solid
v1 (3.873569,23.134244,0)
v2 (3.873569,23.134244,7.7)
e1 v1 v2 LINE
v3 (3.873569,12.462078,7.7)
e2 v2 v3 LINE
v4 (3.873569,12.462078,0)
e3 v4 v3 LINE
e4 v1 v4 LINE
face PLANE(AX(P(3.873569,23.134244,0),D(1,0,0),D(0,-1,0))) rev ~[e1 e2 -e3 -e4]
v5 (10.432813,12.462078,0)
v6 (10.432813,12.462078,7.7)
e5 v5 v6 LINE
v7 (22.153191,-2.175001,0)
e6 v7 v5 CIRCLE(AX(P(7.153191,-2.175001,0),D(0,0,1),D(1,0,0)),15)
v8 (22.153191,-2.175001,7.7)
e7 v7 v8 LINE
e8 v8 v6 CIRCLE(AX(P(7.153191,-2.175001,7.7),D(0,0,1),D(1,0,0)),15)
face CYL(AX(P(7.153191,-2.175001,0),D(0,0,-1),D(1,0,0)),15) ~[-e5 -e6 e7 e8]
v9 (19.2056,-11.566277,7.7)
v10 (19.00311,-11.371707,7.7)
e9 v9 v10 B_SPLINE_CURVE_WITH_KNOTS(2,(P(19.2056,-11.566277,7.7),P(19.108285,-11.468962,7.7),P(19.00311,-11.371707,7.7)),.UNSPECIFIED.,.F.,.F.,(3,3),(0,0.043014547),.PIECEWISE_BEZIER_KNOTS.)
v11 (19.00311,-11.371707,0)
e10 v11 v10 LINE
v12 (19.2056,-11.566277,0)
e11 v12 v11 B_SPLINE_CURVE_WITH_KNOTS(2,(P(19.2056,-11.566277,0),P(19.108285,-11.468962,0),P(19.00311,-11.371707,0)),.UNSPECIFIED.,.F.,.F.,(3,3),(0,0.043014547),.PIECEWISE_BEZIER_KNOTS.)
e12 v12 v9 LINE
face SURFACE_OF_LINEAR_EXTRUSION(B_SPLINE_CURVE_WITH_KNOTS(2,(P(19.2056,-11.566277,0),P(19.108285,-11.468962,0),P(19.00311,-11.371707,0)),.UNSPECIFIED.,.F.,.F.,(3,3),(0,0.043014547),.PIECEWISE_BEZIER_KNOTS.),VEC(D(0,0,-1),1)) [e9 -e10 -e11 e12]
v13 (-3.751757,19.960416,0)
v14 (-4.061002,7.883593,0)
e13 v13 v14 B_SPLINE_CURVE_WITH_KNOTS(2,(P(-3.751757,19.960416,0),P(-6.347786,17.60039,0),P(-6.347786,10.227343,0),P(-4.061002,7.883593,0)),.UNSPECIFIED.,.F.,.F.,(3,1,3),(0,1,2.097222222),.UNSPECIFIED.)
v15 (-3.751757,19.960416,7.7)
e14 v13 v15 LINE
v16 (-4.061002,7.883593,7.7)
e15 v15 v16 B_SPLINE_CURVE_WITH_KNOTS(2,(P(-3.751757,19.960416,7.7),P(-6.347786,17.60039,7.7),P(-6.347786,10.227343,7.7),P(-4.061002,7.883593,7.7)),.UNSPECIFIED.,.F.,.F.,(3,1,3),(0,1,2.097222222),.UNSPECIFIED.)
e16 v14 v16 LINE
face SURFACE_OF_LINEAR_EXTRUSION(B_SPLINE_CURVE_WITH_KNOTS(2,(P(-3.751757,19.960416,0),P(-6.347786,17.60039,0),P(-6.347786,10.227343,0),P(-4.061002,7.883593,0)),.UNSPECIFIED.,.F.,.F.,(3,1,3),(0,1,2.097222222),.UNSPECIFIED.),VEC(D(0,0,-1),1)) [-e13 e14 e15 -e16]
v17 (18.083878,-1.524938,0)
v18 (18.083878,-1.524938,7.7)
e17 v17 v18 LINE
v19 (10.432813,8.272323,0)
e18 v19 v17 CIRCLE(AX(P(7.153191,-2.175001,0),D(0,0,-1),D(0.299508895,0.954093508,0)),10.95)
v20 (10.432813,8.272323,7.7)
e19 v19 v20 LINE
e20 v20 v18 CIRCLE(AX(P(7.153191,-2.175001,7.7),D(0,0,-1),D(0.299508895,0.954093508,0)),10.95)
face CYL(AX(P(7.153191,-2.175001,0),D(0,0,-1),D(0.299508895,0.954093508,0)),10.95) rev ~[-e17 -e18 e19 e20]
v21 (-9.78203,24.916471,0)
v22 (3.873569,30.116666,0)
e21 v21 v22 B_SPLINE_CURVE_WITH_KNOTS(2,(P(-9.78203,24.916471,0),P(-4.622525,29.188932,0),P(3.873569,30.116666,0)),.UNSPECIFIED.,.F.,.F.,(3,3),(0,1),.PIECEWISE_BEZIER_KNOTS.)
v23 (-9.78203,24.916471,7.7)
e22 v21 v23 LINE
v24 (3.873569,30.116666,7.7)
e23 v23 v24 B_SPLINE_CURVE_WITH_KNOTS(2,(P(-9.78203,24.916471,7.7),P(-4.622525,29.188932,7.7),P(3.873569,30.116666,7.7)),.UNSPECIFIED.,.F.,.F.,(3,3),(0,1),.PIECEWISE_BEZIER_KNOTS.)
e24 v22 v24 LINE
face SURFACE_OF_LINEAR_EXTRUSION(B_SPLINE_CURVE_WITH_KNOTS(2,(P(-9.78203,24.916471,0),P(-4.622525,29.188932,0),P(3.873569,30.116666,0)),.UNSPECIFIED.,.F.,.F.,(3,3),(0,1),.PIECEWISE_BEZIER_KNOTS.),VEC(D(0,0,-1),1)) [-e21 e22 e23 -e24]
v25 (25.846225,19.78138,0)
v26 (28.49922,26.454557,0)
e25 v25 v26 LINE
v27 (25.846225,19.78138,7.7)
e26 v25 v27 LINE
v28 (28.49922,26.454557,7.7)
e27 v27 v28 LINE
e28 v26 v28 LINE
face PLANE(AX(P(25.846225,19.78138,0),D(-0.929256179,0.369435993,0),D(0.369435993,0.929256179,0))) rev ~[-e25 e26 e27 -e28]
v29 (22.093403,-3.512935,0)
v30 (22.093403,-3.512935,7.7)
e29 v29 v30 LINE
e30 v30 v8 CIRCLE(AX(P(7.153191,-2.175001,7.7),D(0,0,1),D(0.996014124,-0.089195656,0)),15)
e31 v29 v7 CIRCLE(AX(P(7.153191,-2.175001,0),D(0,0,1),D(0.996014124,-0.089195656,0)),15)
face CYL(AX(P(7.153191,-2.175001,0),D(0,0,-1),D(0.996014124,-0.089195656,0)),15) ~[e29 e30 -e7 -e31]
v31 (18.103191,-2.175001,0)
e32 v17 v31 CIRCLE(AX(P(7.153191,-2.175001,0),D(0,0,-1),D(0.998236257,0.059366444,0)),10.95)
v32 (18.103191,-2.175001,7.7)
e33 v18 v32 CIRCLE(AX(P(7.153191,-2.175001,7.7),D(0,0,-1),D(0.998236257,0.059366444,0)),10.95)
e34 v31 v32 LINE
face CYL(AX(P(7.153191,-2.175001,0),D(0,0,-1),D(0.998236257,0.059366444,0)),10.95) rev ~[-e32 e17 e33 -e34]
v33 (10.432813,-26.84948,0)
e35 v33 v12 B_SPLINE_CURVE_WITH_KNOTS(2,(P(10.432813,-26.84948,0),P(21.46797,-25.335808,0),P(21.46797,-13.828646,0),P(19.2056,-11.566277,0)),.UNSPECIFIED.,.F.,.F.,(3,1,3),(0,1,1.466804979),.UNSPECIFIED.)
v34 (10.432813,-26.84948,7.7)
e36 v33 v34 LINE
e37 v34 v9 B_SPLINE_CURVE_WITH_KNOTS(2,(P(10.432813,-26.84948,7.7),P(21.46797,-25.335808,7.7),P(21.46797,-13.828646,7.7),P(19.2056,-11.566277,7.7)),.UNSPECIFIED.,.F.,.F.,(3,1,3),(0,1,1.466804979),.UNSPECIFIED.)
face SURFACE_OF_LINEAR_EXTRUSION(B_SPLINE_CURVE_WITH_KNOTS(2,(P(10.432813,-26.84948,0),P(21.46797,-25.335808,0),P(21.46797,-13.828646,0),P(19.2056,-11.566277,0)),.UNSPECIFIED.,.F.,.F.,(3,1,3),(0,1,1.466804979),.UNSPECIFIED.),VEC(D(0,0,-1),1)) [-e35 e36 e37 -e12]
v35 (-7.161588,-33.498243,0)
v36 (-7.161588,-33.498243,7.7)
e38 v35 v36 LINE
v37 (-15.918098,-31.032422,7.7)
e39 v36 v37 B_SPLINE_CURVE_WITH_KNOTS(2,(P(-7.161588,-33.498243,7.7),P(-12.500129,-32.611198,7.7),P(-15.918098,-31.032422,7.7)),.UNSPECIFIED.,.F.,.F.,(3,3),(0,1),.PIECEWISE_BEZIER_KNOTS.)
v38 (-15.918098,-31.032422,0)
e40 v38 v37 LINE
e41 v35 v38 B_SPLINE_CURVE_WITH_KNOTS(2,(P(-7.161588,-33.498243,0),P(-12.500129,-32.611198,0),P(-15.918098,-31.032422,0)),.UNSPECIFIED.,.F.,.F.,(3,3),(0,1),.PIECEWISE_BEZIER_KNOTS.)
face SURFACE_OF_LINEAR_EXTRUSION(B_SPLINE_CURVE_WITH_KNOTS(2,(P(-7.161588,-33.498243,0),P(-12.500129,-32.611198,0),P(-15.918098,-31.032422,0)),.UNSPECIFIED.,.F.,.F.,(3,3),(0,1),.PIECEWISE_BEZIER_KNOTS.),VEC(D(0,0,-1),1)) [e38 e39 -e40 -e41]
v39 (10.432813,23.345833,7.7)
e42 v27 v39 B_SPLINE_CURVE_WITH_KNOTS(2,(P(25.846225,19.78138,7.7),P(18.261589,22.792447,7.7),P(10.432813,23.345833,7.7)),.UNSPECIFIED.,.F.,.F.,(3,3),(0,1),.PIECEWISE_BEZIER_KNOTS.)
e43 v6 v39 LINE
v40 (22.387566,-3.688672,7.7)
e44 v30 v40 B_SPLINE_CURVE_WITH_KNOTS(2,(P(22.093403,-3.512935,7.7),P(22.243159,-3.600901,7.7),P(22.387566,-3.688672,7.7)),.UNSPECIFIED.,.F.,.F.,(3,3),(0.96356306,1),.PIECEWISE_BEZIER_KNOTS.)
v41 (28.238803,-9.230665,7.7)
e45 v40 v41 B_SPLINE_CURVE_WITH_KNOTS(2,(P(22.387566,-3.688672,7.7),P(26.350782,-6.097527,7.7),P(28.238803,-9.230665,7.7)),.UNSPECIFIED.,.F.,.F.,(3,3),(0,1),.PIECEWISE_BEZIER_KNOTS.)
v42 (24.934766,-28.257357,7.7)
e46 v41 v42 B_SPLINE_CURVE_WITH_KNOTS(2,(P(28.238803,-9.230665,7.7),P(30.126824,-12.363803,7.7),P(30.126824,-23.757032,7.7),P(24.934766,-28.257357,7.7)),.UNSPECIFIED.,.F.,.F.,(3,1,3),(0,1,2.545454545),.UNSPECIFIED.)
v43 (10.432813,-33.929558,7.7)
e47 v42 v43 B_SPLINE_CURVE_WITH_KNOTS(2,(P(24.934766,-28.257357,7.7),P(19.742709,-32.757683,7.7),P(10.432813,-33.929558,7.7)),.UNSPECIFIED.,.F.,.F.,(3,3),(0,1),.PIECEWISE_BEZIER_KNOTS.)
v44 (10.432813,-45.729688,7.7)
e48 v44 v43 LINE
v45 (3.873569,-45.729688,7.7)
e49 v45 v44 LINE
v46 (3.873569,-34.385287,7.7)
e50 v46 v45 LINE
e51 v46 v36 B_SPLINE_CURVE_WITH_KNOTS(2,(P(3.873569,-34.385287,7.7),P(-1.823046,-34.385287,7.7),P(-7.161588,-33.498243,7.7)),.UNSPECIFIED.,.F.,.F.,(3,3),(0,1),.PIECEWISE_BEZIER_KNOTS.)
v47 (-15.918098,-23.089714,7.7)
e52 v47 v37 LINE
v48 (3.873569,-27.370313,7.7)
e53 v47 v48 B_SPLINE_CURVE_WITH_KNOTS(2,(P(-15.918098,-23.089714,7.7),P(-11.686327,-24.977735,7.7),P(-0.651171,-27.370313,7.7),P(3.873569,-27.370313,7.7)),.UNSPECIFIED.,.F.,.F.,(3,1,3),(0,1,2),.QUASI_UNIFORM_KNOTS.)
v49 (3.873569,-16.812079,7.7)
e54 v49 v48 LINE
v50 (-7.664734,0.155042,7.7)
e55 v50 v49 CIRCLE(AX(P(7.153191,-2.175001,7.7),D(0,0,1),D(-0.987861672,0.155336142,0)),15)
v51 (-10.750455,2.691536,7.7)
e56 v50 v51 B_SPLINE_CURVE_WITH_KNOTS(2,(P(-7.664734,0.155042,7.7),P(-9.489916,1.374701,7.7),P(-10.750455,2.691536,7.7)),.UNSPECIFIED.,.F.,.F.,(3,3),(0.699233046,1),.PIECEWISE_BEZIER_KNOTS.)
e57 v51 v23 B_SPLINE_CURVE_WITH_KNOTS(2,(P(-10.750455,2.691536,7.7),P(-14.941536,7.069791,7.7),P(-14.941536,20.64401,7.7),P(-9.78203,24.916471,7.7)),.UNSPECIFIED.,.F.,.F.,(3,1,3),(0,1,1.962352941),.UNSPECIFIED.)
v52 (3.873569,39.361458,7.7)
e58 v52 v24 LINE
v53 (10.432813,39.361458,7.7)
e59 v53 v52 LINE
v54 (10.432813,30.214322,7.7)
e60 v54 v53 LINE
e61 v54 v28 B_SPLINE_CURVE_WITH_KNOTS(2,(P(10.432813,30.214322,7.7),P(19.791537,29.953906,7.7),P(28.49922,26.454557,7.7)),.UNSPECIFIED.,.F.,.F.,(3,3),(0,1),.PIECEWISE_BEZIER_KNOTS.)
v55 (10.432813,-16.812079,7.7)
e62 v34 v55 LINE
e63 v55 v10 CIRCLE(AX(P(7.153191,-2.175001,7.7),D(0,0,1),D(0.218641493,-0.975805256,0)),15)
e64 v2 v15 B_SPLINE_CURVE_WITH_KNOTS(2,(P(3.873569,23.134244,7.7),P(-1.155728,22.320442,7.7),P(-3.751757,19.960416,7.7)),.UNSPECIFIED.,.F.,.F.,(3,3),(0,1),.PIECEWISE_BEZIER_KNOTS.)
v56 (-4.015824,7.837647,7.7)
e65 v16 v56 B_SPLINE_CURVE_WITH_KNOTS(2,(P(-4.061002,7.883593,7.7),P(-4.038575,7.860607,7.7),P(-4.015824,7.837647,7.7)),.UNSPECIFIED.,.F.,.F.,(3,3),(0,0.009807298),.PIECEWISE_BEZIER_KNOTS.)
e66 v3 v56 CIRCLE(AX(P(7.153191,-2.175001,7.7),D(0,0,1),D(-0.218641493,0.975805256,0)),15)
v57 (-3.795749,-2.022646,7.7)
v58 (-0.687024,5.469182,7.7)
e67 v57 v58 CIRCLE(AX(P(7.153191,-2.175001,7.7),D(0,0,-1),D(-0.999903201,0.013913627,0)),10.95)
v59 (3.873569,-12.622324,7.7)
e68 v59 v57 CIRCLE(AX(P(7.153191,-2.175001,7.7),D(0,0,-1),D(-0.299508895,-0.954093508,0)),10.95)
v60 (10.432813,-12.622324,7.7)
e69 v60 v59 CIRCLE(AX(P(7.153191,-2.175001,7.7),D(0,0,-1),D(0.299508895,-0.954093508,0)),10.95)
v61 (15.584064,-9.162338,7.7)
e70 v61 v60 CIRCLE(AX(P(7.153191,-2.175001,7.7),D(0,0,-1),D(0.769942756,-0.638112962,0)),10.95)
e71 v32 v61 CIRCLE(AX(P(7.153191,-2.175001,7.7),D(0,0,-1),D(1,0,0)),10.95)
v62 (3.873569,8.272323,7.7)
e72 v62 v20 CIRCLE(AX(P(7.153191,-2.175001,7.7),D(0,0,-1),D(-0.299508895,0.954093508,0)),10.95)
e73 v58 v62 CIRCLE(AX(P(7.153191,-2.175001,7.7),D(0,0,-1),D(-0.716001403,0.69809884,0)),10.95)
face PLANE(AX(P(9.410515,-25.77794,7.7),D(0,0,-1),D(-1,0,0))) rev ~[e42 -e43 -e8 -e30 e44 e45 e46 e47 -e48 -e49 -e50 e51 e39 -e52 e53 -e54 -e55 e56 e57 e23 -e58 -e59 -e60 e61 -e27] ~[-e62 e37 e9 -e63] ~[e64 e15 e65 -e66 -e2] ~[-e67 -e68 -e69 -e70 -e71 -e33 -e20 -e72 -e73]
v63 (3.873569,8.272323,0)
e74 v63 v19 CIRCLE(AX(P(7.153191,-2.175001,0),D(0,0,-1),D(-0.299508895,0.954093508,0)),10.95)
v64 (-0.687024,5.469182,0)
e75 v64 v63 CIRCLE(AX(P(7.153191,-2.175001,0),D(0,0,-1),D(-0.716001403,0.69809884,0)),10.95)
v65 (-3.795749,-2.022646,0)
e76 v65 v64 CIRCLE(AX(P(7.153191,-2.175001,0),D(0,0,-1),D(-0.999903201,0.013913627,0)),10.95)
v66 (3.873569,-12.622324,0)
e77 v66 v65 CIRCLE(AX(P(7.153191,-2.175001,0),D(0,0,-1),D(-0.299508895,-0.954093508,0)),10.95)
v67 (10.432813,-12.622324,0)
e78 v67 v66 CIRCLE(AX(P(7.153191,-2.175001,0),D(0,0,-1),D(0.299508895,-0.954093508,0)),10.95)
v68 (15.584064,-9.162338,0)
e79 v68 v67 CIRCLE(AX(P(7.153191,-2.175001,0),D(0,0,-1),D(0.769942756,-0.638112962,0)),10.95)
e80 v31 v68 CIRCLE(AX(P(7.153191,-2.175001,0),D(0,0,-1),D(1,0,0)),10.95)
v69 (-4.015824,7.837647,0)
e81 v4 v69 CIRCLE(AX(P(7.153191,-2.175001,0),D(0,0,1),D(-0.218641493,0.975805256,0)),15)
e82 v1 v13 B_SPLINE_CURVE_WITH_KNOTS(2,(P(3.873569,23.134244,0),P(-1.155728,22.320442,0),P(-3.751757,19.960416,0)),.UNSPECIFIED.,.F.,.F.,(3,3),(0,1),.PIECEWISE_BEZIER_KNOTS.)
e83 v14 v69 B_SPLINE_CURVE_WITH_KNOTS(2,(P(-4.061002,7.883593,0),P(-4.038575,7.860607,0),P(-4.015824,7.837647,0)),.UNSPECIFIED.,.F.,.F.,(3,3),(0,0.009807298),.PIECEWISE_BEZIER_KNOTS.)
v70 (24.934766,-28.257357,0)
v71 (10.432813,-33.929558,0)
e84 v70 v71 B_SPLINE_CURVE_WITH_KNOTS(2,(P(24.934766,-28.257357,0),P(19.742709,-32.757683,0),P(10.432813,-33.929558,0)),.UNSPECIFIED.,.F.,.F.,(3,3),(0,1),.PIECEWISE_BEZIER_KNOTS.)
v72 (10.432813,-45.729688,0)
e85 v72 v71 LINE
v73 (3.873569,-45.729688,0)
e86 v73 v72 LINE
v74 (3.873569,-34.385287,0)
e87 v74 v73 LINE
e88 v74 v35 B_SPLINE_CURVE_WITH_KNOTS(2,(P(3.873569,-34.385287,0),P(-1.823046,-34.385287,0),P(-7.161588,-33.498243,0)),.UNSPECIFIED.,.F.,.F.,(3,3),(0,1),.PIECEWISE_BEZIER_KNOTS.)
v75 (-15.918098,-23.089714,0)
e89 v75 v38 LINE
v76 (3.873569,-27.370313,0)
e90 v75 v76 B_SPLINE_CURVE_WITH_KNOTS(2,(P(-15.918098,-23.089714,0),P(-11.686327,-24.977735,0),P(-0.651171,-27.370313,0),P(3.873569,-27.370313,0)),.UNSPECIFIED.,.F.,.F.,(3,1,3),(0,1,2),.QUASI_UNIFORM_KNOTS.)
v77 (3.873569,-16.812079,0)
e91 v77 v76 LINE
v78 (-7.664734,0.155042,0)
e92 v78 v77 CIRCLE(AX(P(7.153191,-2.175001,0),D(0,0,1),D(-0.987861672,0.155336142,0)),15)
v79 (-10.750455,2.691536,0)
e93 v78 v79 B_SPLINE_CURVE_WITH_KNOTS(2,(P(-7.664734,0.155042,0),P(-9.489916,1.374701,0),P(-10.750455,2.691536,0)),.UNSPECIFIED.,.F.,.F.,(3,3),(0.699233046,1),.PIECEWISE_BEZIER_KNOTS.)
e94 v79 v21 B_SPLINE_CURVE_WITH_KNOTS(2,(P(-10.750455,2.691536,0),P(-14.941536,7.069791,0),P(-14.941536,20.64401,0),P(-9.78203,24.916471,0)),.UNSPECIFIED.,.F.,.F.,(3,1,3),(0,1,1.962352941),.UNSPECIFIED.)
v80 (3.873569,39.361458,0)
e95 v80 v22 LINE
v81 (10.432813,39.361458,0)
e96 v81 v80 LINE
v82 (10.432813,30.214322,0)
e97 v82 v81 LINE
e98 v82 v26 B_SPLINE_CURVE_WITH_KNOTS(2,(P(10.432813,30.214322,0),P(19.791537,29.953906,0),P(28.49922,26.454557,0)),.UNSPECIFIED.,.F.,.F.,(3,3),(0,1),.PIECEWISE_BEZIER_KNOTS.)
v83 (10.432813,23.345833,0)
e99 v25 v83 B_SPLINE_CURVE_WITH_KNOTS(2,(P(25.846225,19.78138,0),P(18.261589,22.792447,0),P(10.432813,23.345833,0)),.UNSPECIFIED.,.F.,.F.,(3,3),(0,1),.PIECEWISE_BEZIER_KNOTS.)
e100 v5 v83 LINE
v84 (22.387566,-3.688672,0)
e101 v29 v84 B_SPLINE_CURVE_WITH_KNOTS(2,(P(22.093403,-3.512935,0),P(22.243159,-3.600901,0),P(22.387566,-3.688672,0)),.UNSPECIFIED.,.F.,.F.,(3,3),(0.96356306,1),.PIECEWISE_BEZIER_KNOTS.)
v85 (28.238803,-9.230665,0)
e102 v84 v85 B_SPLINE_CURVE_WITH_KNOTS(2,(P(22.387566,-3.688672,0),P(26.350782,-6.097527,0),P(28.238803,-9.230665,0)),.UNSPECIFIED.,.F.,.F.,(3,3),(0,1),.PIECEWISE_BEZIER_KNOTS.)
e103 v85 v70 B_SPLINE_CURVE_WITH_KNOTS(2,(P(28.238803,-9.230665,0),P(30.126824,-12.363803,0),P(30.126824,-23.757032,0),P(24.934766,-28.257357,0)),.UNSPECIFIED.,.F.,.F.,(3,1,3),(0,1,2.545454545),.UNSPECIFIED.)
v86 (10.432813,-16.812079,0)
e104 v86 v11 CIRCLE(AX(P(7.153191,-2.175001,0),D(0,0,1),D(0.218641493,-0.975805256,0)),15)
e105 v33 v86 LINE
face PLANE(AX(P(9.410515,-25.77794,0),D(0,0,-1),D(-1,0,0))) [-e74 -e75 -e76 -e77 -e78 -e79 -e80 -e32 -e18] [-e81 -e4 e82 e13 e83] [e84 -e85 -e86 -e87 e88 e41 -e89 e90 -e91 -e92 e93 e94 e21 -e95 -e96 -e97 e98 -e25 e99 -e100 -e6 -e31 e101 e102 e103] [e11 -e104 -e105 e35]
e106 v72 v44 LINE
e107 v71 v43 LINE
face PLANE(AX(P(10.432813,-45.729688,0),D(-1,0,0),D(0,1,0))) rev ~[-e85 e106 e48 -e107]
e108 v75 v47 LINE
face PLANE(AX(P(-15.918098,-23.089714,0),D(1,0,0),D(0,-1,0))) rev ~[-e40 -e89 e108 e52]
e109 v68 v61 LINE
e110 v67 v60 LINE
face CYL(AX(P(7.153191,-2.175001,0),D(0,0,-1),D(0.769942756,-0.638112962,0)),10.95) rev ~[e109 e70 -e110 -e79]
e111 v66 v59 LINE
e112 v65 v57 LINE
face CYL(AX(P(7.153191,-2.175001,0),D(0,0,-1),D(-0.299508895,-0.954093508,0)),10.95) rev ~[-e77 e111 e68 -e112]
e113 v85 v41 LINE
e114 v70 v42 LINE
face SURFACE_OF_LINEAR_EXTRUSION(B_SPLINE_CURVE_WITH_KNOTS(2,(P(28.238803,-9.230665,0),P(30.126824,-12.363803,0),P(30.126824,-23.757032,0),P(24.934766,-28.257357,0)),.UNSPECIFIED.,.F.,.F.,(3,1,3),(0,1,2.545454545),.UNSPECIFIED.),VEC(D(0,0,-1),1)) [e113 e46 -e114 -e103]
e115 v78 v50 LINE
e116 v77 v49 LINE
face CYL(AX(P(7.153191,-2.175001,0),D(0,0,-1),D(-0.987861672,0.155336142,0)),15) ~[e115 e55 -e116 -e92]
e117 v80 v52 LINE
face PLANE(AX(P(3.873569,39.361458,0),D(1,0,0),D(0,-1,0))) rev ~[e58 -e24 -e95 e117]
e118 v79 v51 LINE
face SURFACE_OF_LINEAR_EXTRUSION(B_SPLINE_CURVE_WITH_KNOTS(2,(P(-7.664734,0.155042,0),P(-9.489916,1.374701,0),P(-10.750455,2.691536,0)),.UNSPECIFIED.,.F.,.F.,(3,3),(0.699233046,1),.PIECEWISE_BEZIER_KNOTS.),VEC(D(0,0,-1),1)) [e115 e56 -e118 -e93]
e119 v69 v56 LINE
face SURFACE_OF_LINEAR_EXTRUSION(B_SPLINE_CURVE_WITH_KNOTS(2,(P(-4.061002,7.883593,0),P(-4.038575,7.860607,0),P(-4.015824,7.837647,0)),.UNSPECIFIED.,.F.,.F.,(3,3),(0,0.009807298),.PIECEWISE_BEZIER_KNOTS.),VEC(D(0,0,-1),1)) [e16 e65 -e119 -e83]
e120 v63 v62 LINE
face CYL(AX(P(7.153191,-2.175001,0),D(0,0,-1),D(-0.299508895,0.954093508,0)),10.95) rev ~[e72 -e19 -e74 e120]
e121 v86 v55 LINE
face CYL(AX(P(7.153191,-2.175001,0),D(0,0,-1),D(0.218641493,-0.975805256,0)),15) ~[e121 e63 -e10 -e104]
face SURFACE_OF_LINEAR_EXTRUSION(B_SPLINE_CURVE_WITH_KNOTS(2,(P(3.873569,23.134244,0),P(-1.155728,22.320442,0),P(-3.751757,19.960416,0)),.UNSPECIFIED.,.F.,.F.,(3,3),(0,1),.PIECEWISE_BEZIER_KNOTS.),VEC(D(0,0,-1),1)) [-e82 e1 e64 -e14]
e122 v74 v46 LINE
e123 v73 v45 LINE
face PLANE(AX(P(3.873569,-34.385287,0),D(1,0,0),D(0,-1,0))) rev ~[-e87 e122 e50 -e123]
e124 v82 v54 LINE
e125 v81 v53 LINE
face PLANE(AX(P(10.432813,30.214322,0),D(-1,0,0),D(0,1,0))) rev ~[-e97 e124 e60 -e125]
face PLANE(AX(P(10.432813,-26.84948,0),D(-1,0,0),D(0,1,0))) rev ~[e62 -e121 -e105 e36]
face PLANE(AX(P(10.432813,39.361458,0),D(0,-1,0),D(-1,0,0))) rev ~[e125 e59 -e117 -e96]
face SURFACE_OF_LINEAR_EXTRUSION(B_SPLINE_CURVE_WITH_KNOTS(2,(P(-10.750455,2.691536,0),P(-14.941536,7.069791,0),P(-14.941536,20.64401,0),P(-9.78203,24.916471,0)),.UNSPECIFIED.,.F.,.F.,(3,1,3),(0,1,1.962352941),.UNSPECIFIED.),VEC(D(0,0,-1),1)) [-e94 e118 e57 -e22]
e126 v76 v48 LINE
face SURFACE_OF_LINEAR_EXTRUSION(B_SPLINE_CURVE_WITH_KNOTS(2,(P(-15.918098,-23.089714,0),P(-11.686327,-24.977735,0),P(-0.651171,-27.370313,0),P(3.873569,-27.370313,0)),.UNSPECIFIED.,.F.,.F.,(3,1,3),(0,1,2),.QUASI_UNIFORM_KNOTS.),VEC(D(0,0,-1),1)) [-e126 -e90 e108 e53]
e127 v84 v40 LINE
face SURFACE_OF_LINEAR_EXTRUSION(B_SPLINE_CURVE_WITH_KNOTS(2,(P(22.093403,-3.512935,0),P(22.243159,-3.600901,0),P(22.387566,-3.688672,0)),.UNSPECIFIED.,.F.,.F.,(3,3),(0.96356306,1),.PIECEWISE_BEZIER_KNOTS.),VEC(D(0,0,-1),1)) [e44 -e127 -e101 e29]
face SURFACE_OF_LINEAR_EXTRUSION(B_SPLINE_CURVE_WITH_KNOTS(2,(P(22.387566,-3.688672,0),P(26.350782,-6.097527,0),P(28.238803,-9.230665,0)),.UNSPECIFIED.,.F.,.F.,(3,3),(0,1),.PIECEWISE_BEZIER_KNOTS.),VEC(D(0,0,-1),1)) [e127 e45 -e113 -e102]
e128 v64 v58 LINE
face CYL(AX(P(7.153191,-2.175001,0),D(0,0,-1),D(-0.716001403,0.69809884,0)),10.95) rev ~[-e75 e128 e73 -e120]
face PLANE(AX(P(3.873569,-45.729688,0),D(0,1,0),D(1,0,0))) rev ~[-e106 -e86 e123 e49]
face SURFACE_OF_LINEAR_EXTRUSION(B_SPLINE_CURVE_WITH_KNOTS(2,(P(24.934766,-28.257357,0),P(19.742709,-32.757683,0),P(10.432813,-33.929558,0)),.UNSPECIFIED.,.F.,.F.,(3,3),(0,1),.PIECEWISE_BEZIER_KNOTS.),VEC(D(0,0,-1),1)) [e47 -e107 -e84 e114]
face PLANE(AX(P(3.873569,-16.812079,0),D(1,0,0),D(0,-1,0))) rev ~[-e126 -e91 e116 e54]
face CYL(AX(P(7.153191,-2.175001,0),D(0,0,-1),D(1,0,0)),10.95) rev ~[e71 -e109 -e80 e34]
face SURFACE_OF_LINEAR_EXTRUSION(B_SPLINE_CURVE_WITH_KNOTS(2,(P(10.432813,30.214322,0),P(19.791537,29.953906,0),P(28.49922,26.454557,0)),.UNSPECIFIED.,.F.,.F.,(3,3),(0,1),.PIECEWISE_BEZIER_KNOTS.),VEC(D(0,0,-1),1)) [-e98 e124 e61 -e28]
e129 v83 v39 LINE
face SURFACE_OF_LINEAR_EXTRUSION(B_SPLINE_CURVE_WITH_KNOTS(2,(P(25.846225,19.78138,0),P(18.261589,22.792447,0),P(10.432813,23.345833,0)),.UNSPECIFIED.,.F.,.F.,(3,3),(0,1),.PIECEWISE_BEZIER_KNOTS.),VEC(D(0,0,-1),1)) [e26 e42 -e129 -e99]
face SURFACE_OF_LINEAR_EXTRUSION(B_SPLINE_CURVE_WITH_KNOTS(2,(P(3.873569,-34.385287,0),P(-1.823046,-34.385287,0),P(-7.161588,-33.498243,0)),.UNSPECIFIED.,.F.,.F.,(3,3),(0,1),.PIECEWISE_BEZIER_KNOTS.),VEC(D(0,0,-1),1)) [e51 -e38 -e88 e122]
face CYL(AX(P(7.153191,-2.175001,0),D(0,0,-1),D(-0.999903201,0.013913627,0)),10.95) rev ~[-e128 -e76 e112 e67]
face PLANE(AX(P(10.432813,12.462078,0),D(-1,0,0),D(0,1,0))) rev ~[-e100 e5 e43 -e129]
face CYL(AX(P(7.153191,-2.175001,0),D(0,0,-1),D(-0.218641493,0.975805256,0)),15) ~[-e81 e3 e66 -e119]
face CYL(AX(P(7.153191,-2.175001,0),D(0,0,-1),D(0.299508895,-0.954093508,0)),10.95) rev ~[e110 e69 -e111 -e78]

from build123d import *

# Parameters (mm, degrees)
F1_DEPTH = 7.7


with BuildPart() as f1:
    # F0 (on Top) → F1 (new body)
    with BuildSketch(Plane.XY):
        with BuildLine():
            add(Edge.make_bspline(
                [(22.0934028303, -3.5129354261), (22.2431585024, -3.6009011816), (22.3875659726, -3.6886724571)],
                knots=[0.9635630597, 0.9635630597, 0.9635630597, 1, 1, 1], degree=2))
            ThreePointArc((22.0934028303, -3.5129354261), (21.1126986682, -7.6642760258), (19.0031102486, -11.3717072292))
            add(Edge.make_bspline(
                [(19.2055998268, -11.5662766238), (19.1082850147, -11.4689618118), (19.0031102486, -11.3717072292)],
                knots=[0, 0, 0, 0.0430145471, 0.0430145471, 0.0430145471], degree=2))
            add(Edge.make_bspline(
                [(21.4679696184, -17.4907557905), (21.4679696184, -13.8286464155), (19.2055998268, -11.5662766238)],
                knots=[0, 0, 0, 1, 1, 1], degree=2))
            add(Edge.make_bspline(
                [(10.4328133684, -26.8494797488), (21.4679696184, -25.3358078738), (21.4679696184, -17.4907557905)],
                knots=[0, 0, 0, 1, 1, 1], degree=2))
            Line((10.4328133684, -26.8494797488), (10.4328133684, -16.8120794212))
            ThreePointArc((10.4328133684, -16.8120794212), (7.1531909726, -17.1750005821), (3.8735685768, -16.8120794212))
            Line((3.8735685768, -16.8120794212), (3.8735685768, -27.3703130821))
            add(Edge.make_bspline(
                [(-6.1687491316, -26.1740240196), (-0.6511710066, -27.3703130821), (3.8735685768, -27.3703130821)],
                knots=[0, 0, 0, 1, 1, 1], degree=2))
            add(Edge.make_bspline(
                [(-15.9180980899, -23.0897141238), (-11.6863272566, -24.9777349571), (-6.1687491316, -26.1740240196)],
                knots=[0, 0, 0, 1, 1, 1], degree=2))
            Line((-15.9180980899, -23.0897141238), (-15.9180980899, -31.0324224571))
            add(Edge.make_bspline(
                [(-7.1615876732, -33.4982427696), (-12.5001293399, -32.6111984988), (-15.9180980899, -31.0324224571)],
                knots=[0, 0, 0, 1, 1, 1], degree=2))
            add(Edge.make_bspline(
                [(3.8735685768, -34.3852870405), (-1.8230460066, -34.3852870405), (-7.1615876732, -33.4982427696)],
                knots=[0, 0, 0, 1, 1, 1], degree=2))
            Line((3.8735685768, -34.3852870405), (3.8735685768, -45.7296880821))
            Line((3.8735685768, -45.7296880821), (10.4328133684, -45.7296880821))
            Line((10.4328133684, -45.7296880821), (10.4328133684, -33.9295578738))
            add(Edge.make_bspline(
                [(24.9347664934, -28.257357353), (19.7427092018, -32.7576828738), (10.4328133684, -33.9295578738)],
                knots=[0, 0, 0, 1, 1, 1], degree=2))
            add(Edge.make_bspline(
                [(30.1268237851, -16.8397141238), (30.1268237851, -23.7570318321), (24.9347664934, -28.257357353)],
                knots=[0, 0, 0, 1, 1, 1], degree=2))
            add(Edge.make_bspline(
                [(28.2388029518, -9.2306646446), (30.1268237851, -12.3638026655), (30.1268237851, -16.8397141238)],
                knots=[0, 0, 0, 1, 1, 1], degree=2))
            add(Edge.make_bspline(
                [(22.3875659726, -3.6886724571), (26.3507821184, -6.0975266238), (28.2388029518, -9.2306646446)],
                knots=[0, 0, 0, 1, 1, 1], degree=2))
        make_face()
        with BuildLine():
            ThreePointArc((3.8735685768, 12.4620782569), (7.1531909726, 12.8249994179), (10.4328133684, 12.4620782569))
            Line((10.4328133684, 12.4620782569), (10.4328133684, 23.3458327512))
            add(Edge.make_bspline(
                [(25.8462248268, 19.7813796262), (18.2615894101, 22.7924473345), (10.4328133684, 23.3458327512)],
                knots=[0, 0, 0, 1, 1, 1], degree=2))
            Line((25.8462248268, 19.7813796262), (28.4992196184, 26.4545567095))
            add(Edge.make_bspline(
                [(10.4328133684, 30.2143223345), (19.7915373268, 29.9539056679), (28.4992196184, 26.4545567095)],
                knots=[0, 0, 0, 1, 1, 1], degree=2))
            Line((10.4328133684, 30.2143223345), (10.4328133684, 39.3614577512))
            Line((10.4328133684, 39.3614577512), (3.8735685768, 39.3614577512))
            Line((3.8735685768, 39.3614577512), (3.8735685768, 30.1166660845))
            add(Edge.make_bspline(
                [(-9.7820303816, 24.916470772), (-4.6225251732, 29.1889317095), (3.8735685768, 30.1166660845)],
                knots=[0, 0, 0, 1, 1, 1], degree=2))
            add(Edge.make_bspline(
                [(-14.9415355899, 13.9871087929), (-14.9415355899, 20.6440098345), (-9.7820303816, 24.916470772)],
                knots=[0, 0, 0, 1, 1, 1], degree=2))
            add(Edge.make_bspline(
                [(-10.7504548607, 2.6915358762), (-14.9415355899, 7.0697910845), (-14.9415355899, 13.9871087929)],
                knots=[0, 0, 0, 1, 1, 1], degree=2))
            add(Edge.make_bspline(
                [(-7.6647341063, 0.1550415541), (-9.489916275, 1.3747013925), (-10.7504548607, 2.6915358762)],
                knots=[0.6992330458, 0.6992330458, 0.6992330458, 1, 1, 1], degree=2))
            ThreePointArc((-7.6647341063, 0.1550415541), (-6.3961953475, 4.2603805526), (-4.0158241247, 7.8376465082))
            add(Edge.make_bspline(
                [(-4.0610017357, 7.8835931679), (-4.038574566, 7.8606073142), (-4.0158241247, 7.8376465082)],
                knots=[0, 0, 0, 0.0098072976, 0.0098072976, 0.0098072976], degree=2))
            add(Edge.make_bspline(
                [(-6.3477855899, 14.0847650429), (-6.3477855899, 10.2273431679), (-4.0610017357, 7.8835931679)],
                knots=[0, 0, 0, 1, 1, 1], degree=2))
            add(Edge.make_bspline(
                [(-3.7517569441, 19.9604160845), (-6.3477855899, 17.6003900429), (-6.3477855899, 14.0847650429)],
                knots=[0, 0, 0, 1, 1, 1], degree=2))
            add(Edge.make_bspline(
                [(3.8735685768, 23.1342442095), (-1.1557282982, 22.3204421262), (-3.7517569441, 19.9604160845)],
                knots=[0, 0, 0, 1, 1, 1], degree=2))
            Line((3.8735685768, 23.1342442095), (3.8735685768, 12.4620782569))
        make_face()
        with BuildLine():
            ThreePointArc((3.8735685768, -16.8120794212), (7.1531909726, -17.1750005821), (10.4328133684, -16.8120794212))
            Line((10.4328133684, -16.8120794212), (10.4328133684, -12.622324495))
            ThreePointArc((10.4328133684, -12.622324495), (7.1531909726, -13.1250005821), (3.8735685768, -12.622324495))
            Line((3.8735685768, -12.622324495), (3.8735685768, -16.8120794212))
        make_face()
        with BuildLine():
            Line((10.4328133684, 8.2723233307), (10.4328133684, 12.4620782569))
            ThreePointArc((10.4328133684, 12.4620782569), (7.1531909726, 12.8249994179), (3.8735685768, 12.4620782569))
            Line((3.8735685768, 12.4620782569), (3.8735685768, 8.2723233307))
            ThreePointArc((3.8735685768, 8.2723233307), (7.1531909726, 8.7749994179), (10.4328133684, 8.2723233307))
        make_face()
        with BuildLine():
            ThreePointArc((19.0031102486, -11.3717072292), (21.1126986682, -7.6642760258), (22.0934028303, -3.5129354261))
            add(Edge.make_bspline(
                [(18.0838779902, -1.5249380293), (20.4218137777, -2.5310521228), (22.0934028303, -3.5129354261)],
                knots=[0.5568499804, 0.5568499804, 0.5568499804, 0.9635630597, 0.9635630597, 0.9635630597], degree=2))
            ThreePointArc((18.0838779902, -1.5249380293), (18.0983616621, -1.849825893), (18.1031909726, -2.1750005821))
            ThreePointArc((18.1031909726, -2.1750005821), (17.4541754224, -5.8887883204), (15.584064148, -9.1623375213))
            add(Edge.make_bspline(
                [(19.0031102486, -11.3717072292), (17.8042308259, -10.2631093973), (15.584064148, -9.1623375213)],
                knots=[0.0430145471, 0.0430145471, 0.0430145471, 0.5333342058, 0.5333342058, 0.5333342058], degree=2))
        make_face()
        with BuildLine():
            add(Edge.make_bspline(
                [(-4.0158241247, 7.8376465082), (-2.8074328759, 6.6180817259), (-0.6870243927, 5.4691817173)],
                knots=[0.0098072976, 0.0098072976, 0.0098072976, 0.5307225792, 0.5307225792, 0.5307225792], degree=2))
            ThreePointArc((-4.0158241247, 7.8376465082), (-6.3961953475, 4.2603805526), (-7.6647341063, 0.1550415541))
            add(Edge.make_bspline(
                [(-3.7957490763, -2.0226463711), (-5.9728358213, -0.9755526541), (-7.6647341063, 0.1550415541)],
                knots=[0.4204295912, 0.4204295912, 0.4204295912, 0.6992330458, 0.6992330458, 0.6992330458], degree=2))
            ThreePointArc((-3.7957490763, -2.0226463711), (-2.960659052, 2.0217288206), (-0.6870243927, 5.4691817173))
        make_face()
        with BuildLine():
            add(Edge.make_bspline(
                [(-3.7957490763, -2.0226463711), (-5.9728358213, -0.9755526541), (-7.6647341063, 0.1550415541)],
                knots=[0.4204295912, 0.4204295912, 0.4204295912, 0.6992330458, 0.6992330458, 0.6992330458], degree=2))
            ThreePointArc((-7.6647341063, 0.1550415541), (-5.2504820599, -10.6099810387), (3.8735685768, -16.8120794212))
            Line((3.8735685768, -16.8120794212), (3.8735685768, -12.622324495))
            ThreePointArc((3.8735685768, -12.622324495), (-1.7181838585, -8.5938173427), (-3.7957490763, -2.0226463711))
        make_face()
        with BuildLine():
            ThreePointArc((10.4328133684, -16.8120794212), (15.1921691537, -14.8389190043), (19.0031102486, -11.3717072292))
            add(Edge.make_bspline(
                [(19.0031102486, -11.3717072292), (17.8042308259, -10.2631093973), (15.584064148, -9.1623375213)],
                knots=[0.0430145471, 0.0430145471, 0.0430145471, 0.5333342058, 0.5333342058, 0.5333342058], degree=2))
            ThreePointArc((15.584064148, -9.1623375213), (13.2586642627, -11.2648683427), (10.4328133684, -12.622324495))
            Line((10.4328133684, -12.622324495), (10.4328133684, -16.8120794212))
        make_face()
        with BuildLine():
            ThreePointArc((22.0934028303, -3.5129354261), (22.1382364825, -2.8446356075), (22.1531909726, -2.1750005821))
            ThreePointArc((22.1531909726, -2.1750005821), (18.8620409575, 7.2006504369), (10.4328133684, 12.4620782569))
            Line((10.4328133684, 12.4620782569), (10.4328133684, 8.2723233307))
            ThreePointArc((10.4328133684, 8.2723233307), (15.783359334, 4.5646354655), (18.0838779902, -1.5249380293))
            add(Edge.make_bspline(
                [(18.0838779902, -1.5249380293), (20.4218137777, -2.5310521228), (22.0934028303, -3.5129354261)],
                knots=[0.5568499804, 0.5568499804, 0.5568499804, 0.9635630597, 0.9635630597, 0.9635630597], degree=2))
        make_face()
        with BuildLine():
            Line((3.8735685768, 8.2723233307), (3.8735685768, 12.4620782569))
            ThreePointArc((3.8735685768, 12.4620782569), (-0.4321319343, 10.7657442341), (-4.0158241247, 7.8376465082))
            add(Edge.make_bspline(
                [(-4.0158241247, 7.8376465082), (-2.8074328759, 6.6180817259), (-0.6870243927, 5.4691817173)],
                knots=[0.0098072976, 0.0098072976, 0.0098072976, 0.5307225792, 0.5307225792, 0.5307225792], degree=2))
            ThreePointArc((-0.6870243927, 5.4691817173), (1.4193354909, 7.153740025), (3.8735685768, 8.2723233307))
        make_face()
    extrude(amount=F1_DEPTH)


solid = f1.part
